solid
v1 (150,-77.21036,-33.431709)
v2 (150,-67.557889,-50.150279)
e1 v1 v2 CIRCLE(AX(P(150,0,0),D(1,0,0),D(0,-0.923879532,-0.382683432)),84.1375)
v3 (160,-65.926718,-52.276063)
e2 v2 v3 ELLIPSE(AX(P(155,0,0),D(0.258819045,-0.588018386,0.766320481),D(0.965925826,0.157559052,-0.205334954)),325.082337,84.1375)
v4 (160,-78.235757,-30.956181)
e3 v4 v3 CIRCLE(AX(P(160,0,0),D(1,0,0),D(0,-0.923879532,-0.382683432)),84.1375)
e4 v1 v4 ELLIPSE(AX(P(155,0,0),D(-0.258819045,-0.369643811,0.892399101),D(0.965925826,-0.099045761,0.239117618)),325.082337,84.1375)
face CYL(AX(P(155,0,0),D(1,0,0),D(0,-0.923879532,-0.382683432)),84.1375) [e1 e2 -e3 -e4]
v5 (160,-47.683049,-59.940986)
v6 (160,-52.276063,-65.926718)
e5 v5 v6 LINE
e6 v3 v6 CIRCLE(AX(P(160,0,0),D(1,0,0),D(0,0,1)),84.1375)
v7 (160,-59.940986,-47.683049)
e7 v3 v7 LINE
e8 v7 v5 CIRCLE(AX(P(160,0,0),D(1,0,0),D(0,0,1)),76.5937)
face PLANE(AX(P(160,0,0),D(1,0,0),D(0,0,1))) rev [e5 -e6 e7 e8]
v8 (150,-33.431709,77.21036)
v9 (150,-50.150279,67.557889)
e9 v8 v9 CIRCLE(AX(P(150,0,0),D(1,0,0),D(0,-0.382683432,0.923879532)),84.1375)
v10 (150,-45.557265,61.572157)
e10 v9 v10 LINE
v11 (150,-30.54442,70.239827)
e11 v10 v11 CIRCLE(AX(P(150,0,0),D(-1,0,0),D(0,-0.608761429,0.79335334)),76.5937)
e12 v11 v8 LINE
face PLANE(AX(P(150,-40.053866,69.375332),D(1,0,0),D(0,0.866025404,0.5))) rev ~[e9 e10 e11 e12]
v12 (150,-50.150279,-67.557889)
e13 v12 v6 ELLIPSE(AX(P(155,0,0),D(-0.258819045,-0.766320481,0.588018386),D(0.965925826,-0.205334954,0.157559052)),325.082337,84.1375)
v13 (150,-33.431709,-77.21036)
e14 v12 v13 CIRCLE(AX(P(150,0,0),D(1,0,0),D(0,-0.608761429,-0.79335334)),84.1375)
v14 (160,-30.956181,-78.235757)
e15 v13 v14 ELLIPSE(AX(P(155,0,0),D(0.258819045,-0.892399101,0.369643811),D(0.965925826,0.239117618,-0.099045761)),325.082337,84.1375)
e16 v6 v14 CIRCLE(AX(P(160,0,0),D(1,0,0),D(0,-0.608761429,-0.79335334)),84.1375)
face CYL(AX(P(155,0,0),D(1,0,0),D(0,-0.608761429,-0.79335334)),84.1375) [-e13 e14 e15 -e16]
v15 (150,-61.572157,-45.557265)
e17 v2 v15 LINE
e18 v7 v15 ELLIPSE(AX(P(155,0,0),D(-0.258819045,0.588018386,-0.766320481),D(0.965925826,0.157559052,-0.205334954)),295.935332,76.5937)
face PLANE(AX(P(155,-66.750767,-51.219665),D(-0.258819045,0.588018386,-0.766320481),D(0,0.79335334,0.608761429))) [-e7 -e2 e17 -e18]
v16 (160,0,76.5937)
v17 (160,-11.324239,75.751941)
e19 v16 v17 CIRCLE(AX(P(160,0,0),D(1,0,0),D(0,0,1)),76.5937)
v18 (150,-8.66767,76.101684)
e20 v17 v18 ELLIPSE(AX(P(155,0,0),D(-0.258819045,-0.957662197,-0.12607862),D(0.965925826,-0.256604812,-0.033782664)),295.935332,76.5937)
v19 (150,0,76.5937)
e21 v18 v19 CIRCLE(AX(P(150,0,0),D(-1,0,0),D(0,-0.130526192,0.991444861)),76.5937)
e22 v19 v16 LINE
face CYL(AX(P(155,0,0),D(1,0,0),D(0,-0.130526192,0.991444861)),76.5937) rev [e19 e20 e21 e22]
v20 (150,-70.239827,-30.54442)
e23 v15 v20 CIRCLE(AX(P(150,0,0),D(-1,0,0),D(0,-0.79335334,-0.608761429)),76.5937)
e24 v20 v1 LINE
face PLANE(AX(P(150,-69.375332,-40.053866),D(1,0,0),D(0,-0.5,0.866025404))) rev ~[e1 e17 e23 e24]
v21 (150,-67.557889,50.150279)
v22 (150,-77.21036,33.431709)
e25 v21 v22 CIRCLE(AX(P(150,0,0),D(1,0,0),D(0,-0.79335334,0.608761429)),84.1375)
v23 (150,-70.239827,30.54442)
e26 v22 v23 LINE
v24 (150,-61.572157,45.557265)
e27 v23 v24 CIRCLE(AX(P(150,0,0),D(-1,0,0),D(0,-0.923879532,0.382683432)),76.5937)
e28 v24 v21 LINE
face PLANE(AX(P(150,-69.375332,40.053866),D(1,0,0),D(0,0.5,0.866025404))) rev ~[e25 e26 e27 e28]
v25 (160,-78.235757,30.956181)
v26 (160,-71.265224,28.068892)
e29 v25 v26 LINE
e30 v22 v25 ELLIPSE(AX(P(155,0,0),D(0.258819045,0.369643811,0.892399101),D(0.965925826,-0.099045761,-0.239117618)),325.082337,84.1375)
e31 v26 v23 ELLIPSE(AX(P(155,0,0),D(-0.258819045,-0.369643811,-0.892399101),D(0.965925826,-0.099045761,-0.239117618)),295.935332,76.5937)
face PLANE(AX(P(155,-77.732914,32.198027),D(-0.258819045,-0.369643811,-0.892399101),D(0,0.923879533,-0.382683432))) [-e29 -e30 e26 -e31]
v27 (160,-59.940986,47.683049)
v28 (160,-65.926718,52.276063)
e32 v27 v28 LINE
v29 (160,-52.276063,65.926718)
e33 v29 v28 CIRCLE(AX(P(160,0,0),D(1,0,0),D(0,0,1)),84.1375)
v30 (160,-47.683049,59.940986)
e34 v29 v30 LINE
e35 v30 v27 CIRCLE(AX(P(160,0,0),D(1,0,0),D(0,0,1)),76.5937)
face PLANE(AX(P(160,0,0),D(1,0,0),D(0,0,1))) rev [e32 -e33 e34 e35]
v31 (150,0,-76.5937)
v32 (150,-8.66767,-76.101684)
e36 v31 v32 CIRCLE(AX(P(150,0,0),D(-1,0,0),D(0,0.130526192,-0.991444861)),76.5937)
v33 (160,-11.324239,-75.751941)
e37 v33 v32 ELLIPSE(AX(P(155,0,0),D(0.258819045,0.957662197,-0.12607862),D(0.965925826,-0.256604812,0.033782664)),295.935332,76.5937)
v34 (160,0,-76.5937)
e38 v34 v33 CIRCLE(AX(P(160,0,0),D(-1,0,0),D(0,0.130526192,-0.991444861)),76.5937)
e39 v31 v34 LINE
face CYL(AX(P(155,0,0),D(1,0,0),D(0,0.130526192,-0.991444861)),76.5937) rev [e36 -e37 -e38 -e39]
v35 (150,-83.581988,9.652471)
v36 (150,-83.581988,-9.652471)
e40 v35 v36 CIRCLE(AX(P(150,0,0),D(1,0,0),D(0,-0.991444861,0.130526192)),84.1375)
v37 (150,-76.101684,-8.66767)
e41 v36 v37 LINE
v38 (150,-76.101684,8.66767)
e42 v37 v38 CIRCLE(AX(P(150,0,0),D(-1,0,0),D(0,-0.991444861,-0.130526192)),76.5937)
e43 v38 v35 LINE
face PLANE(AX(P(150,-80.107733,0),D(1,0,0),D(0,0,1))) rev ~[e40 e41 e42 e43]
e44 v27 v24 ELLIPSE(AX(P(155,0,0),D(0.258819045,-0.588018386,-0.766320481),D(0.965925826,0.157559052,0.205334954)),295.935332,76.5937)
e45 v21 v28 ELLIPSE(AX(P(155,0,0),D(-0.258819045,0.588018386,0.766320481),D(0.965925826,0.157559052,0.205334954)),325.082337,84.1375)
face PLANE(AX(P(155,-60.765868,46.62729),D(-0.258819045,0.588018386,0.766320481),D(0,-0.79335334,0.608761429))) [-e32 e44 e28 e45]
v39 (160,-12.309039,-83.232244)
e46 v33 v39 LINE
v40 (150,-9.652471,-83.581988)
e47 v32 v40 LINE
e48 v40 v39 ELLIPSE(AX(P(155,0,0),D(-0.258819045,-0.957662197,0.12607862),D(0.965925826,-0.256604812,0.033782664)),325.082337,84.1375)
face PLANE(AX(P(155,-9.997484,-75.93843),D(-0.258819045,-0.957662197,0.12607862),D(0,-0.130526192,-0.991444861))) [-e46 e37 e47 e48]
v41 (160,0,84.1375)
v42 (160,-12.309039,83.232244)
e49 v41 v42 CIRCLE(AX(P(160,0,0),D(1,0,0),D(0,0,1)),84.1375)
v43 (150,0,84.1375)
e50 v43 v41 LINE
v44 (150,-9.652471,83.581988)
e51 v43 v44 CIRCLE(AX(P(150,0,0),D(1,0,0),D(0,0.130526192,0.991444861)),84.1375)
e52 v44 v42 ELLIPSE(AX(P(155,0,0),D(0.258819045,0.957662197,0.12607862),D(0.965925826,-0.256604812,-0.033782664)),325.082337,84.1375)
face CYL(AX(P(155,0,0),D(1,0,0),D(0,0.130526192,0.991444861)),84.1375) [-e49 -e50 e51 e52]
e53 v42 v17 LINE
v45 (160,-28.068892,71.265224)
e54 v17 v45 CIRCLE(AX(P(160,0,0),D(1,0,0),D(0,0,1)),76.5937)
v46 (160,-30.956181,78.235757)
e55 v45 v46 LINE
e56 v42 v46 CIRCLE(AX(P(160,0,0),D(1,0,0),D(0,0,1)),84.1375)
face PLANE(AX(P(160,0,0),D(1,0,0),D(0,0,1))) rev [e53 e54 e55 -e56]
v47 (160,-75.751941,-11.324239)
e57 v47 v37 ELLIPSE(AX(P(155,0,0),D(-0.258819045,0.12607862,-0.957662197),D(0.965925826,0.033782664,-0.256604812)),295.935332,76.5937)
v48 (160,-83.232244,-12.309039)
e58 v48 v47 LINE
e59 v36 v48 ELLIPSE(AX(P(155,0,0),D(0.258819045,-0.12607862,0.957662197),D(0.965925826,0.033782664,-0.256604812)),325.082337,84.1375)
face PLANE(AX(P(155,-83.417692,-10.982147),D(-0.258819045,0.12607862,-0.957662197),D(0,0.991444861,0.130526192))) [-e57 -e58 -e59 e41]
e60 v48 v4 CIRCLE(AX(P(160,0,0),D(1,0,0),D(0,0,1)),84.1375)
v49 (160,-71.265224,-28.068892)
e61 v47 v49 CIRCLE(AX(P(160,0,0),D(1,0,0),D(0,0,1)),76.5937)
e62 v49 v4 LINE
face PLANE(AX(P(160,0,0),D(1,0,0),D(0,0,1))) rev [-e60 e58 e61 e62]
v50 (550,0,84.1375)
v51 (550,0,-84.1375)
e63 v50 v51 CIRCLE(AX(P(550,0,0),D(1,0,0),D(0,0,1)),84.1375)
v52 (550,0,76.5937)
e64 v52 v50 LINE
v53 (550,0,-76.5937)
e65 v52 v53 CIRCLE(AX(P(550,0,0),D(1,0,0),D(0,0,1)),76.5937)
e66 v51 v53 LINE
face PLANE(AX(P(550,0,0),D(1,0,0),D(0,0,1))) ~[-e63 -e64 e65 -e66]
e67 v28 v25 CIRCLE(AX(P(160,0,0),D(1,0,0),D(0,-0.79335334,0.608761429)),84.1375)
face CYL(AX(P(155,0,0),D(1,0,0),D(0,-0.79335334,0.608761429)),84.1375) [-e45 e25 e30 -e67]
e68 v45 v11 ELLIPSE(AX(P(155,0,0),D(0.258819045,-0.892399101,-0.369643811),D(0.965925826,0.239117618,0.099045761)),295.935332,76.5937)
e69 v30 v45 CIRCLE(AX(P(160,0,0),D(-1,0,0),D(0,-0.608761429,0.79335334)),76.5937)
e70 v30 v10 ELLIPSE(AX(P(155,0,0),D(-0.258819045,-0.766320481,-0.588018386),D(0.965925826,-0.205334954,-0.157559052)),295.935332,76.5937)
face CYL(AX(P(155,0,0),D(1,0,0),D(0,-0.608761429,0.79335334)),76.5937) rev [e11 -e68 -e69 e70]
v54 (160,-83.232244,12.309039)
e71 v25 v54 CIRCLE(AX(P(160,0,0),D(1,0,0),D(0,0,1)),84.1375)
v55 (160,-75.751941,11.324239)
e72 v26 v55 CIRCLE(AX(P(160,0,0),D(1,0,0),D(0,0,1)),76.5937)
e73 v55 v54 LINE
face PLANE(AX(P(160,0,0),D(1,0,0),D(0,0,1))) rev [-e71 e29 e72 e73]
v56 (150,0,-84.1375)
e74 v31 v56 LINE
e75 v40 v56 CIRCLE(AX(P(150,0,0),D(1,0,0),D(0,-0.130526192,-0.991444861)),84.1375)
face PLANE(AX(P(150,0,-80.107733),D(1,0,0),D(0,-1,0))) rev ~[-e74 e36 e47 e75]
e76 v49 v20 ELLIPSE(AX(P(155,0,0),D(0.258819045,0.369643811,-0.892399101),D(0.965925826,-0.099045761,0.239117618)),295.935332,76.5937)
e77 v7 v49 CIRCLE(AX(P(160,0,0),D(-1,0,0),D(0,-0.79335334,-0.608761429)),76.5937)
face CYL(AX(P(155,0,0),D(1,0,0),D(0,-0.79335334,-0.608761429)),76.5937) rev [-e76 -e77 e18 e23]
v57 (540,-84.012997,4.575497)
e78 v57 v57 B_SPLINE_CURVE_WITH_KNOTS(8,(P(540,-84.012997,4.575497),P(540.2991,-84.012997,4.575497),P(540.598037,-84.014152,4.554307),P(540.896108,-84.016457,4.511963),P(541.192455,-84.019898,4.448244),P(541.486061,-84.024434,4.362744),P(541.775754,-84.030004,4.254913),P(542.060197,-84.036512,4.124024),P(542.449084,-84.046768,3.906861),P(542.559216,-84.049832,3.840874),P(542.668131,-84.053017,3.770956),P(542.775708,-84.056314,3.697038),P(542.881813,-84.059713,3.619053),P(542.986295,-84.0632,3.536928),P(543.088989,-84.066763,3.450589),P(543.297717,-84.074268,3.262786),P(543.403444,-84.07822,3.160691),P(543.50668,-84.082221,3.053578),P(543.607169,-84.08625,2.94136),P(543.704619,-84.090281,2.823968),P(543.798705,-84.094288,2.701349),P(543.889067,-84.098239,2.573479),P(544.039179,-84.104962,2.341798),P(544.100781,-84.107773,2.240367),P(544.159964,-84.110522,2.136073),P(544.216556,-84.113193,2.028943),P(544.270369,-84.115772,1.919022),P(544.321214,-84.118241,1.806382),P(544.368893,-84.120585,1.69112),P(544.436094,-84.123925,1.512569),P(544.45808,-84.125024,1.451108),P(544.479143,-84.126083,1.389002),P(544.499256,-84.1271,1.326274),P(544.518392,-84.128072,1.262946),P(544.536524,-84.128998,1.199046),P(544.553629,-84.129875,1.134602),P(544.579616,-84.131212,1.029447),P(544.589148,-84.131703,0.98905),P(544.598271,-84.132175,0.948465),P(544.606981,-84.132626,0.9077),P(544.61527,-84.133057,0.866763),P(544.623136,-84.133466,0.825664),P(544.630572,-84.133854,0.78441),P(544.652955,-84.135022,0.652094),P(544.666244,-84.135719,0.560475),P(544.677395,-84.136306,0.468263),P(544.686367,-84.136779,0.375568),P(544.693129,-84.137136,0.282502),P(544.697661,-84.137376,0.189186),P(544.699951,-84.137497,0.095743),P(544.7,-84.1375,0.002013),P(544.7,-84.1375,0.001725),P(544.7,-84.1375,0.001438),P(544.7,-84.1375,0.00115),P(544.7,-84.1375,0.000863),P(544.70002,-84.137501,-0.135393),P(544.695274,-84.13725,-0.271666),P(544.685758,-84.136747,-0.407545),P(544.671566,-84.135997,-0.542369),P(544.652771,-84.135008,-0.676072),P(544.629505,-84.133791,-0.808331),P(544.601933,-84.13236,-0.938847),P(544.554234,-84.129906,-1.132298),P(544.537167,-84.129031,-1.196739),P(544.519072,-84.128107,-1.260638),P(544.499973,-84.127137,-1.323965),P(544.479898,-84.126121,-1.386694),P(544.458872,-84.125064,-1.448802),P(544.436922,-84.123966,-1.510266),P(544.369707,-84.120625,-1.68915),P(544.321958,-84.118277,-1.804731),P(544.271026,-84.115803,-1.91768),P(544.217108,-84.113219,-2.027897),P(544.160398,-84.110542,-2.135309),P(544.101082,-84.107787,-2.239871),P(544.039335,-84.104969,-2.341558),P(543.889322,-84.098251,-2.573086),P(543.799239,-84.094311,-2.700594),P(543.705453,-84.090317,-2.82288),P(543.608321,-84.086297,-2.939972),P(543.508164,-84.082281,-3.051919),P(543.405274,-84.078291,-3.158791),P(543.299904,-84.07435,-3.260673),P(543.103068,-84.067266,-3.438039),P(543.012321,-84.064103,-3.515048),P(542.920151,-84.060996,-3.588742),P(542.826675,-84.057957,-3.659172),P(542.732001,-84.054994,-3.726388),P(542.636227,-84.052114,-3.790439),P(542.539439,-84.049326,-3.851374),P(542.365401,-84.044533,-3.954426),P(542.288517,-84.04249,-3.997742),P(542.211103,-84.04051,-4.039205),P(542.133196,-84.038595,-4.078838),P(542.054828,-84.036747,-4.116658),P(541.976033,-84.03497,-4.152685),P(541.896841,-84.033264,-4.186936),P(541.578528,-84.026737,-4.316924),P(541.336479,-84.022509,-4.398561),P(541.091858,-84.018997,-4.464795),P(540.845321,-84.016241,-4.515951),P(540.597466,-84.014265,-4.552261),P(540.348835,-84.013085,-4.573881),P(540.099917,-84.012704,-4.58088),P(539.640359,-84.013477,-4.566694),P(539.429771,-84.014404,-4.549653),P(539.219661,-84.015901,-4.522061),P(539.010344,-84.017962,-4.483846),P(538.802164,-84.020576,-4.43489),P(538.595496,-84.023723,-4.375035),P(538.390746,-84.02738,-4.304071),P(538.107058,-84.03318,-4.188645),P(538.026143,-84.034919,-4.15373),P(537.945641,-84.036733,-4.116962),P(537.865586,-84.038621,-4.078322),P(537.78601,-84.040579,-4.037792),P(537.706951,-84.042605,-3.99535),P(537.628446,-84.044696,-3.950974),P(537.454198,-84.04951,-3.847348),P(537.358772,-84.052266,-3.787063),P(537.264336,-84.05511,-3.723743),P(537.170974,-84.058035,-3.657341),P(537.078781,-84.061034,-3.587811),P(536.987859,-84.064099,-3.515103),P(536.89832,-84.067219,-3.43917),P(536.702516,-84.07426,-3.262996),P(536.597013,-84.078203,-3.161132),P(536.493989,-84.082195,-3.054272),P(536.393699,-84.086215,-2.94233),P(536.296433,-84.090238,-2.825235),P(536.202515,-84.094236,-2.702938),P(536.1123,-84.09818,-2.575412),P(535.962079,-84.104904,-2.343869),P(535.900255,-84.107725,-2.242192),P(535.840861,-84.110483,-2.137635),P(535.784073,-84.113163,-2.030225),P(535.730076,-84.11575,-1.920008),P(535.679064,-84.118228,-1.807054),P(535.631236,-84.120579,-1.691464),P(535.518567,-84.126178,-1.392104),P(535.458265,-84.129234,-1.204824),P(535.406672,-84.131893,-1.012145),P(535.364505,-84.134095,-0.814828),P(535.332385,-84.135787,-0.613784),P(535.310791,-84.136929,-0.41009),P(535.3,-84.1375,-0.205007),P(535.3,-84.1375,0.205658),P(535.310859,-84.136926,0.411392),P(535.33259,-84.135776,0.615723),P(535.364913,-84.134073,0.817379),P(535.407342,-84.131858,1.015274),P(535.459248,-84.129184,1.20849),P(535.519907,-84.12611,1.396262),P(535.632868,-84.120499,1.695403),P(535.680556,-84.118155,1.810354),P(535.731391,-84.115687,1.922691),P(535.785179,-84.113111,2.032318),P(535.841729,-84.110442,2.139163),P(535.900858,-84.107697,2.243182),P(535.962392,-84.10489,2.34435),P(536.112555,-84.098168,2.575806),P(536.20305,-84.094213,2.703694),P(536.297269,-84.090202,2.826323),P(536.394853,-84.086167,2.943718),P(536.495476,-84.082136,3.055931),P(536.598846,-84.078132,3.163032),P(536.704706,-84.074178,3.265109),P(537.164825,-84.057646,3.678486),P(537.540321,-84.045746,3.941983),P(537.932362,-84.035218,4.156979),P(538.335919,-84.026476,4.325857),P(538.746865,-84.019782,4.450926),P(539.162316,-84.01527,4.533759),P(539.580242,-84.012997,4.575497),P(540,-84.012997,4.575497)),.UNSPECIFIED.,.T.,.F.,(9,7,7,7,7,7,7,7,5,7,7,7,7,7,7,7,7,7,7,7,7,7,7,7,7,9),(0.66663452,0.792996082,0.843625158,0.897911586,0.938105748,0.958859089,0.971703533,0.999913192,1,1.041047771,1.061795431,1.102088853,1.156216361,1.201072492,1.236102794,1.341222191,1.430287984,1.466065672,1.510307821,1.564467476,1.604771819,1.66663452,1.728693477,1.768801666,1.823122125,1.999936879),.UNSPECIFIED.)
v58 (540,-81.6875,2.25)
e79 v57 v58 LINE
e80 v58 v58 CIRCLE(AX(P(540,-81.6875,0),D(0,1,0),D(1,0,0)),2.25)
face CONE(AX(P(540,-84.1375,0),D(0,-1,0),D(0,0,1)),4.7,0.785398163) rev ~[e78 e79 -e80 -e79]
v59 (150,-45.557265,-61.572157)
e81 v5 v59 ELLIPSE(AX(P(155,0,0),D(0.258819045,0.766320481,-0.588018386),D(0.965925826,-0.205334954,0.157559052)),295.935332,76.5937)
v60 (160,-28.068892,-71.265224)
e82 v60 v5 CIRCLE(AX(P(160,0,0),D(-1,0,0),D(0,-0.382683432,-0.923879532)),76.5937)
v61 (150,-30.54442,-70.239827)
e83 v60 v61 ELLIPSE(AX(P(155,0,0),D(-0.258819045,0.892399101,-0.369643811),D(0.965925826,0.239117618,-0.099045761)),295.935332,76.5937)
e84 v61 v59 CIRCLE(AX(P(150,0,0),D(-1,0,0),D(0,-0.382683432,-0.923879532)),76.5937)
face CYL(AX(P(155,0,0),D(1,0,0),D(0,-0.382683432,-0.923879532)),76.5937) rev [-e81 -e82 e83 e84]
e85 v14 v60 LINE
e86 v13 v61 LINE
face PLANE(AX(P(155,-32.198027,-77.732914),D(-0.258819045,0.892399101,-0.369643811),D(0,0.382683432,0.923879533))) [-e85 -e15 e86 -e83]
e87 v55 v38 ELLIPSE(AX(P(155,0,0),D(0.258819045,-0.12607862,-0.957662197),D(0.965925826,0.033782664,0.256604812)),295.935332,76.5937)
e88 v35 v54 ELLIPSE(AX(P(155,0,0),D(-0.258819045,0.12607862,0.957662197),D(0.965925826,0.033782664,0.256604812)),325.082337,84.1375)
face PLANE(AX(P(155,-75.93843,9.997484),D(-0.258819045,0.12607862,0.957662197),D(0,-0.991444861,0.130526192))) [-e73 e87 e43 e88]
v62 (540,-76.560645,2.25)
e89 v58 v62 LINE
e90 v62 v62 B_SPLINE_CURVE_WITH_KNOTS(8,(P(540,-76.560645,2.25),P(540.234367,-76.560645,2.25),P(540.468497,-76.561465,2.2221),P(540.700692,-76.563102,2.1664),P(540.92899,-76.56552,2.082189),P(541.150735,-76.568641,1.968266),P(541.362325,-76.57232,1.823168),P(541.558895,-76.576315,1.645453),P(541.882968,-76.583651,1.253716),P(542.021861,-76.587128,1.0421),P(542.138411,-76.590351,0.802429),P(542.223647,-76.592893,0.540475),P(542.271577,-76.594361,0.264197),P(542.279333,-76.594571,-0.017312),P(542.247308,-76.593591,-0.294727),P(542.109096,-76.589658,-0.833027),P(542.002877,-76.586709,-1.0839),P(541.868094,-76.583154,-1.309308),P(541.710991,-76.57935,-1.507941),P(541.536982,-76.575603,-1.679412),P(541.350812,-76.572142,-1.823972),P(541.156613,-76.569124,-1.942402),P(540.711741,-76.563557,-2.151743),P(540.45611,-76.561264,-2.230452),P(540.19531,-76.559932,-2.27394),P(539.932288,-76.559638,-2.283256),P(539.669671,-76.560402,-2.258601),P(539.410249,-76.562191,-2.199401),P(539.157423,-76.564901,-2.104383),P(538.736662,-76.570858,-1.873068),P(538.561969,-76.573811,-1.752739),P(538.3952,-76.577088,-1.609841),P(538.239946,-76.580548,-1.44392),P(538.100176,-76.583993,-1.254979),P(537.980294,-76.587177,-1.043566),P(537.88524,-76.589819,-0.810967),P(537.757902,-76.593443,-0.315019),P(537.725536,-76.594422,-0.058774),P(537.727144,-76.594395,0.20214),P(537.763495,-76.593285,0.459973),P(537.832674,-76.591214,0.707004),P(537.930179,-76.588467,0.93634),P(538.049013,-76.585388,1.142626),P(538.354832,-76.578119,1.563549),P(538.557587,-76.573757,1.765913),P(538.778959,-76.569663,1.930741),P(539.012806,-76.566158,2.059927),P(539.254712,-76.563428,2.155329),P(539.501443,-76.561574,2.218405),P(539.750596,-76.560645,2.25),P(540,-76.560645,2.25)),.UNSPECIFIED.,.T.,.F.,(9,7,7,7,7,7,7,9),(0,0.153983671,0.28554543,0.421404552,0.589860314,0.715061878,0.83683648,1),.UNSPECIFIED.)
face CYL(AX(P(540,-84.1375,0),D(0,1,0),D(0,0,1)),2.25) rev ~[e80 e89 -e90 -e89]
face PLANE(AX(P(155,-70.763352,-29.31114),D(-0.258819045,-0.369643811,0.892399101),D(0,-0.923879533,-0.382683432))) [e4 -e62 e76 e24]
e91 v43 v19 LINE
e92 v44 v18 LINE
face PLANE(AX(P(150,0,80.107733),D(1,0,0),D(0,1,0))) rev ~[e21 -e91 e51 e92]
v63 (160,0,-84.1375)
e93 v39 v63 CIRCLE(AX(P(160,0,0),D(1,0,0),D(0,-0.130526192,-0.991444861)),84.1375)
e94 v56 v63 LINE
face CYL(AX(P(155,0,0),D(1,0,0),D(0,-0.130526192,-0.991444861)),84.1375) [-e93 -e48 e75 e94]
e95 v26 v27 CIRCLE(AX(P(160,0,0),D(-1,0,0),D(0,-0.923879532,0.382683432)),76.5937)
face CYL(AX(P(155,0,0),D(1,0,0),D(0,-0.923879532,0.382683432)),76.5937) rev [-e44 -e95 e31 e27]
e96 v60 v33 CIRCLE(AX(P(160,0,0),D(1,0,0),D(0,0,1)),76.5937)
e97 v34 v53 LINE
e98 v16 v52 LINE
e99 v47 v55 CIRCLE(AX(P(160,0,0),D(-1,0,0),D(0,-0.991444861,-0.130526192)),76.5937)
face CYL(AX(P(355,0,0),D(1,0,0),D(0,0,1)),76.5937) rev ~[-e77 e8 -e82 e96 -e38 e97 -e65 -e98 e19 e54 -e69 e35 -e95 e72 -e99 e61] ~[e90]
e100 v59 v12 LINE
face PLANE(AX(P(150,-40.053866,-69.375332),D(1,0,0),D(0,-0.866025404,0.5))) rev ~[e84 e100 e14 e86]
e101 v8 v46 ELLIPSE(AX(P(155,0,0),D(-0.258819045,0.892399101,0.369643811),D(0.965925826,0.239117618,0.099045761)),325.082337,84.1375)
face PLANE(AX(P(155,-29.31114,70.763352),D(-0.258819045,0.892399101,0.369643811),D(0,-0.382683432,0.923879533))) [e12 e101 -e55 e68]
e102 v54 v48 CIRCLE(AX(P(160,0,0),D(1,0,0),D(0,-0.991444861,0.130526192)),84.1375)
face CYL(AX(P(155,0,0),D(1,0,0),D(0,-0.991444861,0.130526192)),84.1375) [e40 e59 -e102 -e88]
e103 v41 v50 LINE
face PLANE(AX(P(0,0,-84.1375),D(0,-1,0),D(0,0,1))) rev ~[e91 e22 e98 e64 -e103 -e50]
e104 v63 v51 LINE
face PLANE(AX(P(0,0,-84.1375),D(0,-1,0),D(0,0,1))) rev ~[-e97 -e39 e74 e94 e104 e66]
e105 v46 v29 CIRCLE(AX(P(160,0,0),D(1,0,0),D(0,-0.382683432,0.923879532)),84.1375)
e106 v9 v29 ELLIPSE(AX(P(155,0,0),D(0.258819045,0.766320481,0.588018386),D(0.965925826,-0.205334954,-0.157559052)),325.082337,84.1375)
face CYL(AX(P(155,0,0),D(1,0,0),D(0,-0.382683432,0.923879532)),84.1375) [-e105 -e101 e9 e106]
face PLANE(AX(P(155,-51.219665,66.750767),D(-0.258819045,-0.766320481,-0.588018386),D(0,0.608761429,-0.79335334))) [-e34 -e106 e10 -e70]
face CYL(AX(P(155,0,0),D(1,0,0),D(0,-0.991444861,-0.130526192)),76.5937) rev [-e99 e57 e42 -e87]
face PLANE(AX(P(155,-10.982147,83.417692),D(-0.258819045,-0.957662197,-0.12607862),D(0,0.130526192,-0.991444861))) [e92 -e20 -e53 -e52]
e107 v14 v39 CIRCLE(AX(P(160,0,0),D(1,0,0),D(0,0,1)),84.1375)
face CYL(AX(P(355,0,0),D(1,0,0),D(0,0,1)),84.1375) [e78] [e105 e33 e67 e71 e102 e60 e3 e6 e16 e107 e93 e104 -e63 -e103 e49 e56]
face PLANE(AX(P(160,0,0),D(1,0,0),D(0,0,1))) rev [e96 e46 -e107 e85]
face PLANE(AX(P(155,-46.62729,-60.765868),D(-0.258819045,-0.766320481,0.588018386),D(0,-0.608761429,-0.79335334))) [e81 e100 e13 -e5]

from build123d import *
from build123d.topology import SkipClean

# Parameters (mm, degrees)
SKETCH1_W                                           = 390
SKETCH1_H                                           = 7.5438
BOSS_EXTRUDE1_DEPTH                                 = 5
DRAFT1_ANGLE                                        = -15
CIRPATTERN1_COUNT                                   = 12
DRAFT1_OF_CIRPATTERN1_2_ANGLE                       = -15
DRAFT1_OF_CIRPATTERN1_3_ANGLE                       = -15
DRAFT1_OF_CIRPATTERN1_4_ANGLE                       = -15
DRAFT1_OF_CIRPATTERN1_5_ANGLE                       = -15
DRAFT1_OF_CIRPATTERN1_6_ANGLE                       = -15
DRAFT1_OF_CIRPATTERN1_7_ANGLE                       = -15
DRAFT1_OF_CIRPATTERN1_8_ANGLE                       = -15
DRAFT1_OF_CIRPATTERN1_9_ANGLE                       = -15
DRAFT1_OF_CIRPATTERN1_10_ANGLE                      = -15
DRAFT1_OF_CIRPATTERN1_11_ANGLE                      = -15
DRAFT1_OF_CIRPATTERN1_12_ANGLE                      = -15
CUT_EXTRUDE1_DEPTH                                  = 563.723944588
CSK_FOR_M4_COUNTERSUNK_FLAT_HEAD_SCREW1_D           = 4.5
CSK_FOR_M4_COUNTERSUNK_FLAT_HEAD_SCREW1_CSINK_D     = 9.4
CSK_FOR_M4_COUNTERSUNK_FLAT_HEAD_SCREW1_CSINK_ANGLE = 90


with BuildPart() as part:
    # Sketch1 → Revolve1 (revolve)
    with BuildSketch(Plane.XY, mode=Mode.PRIVATE) as revolve1_sk:
        with Locations((355, 80.3656)):
            Rectangle(SKETCH1_W, SKETCH1_H)
    revolve(revolve1_sk.sketch.rotate(Axis((0, 0, 0), (1, 0, 0)), 90), axis=Axis((0, 0, 0), (1, 0, 0)))

    # Sketch2 → Boss-Extrude1 (add, symmetric)
    with BuildSketch(Plane(origin=(155, 0, 0), x_dir=(0, 0, -1), z_dir=(1, 0, 0))):
        with BuildLine():
            Line((9.997484009, 75.938430279), (10.982147498, 83.417692024))
            ThreePointArc((10.982147498, 83.417692024), (0, 84.1375), (-10.982147498, 83.417692024))
            Line((-10.982147498, 83.417692024), (-9.997484009, 75.938430279))
            ThreePointArc((-9.997484009, 75.938430279), (0, 76.5937), (9.997484009, 75.938430279))
        make_face()
    boss_extrude1 = extrude(amount=BOSS_EXTRUDE1_DEPTH, both=True)

    # Draft1
    draft1_faces = [part.faces().sort_by_distance(p)[0] for p in [
        (155, 79.678061151, 10.489815753),
        (155, 79.678061151, -10.489815753),
    ]]
    draft(draft1_faces, Plane(origin=(155, 0, 0), x_dir=(0, 0, 1), z_dir=(1, 0, 0)), DRAFT1_ANGLE)

    # CirPattern1: Boss-Extrude1 ×12 about axis
    with SkipClean():  # the faces are left unmerged after this step: merging them gives an invalid solid
        cirpattern1_axis = Axis((0, 0, 0), (1, 0, 0))
        for i in range(1, CIRPATTERN1_COUNT):
            add(boss_extrude1.rotate(cirpattern1_axis, i * 360 / CIRPATTERN1_COUNT))

    # Draft1 of CirPattern1 2
    draft1_of_cirpattern1_2_faces = [part.faces().sort_by_distance(p)[0] for p in [
        (155, 63.758317205, 48.923477499),
        (155, 74.248132958, 30.754583652),
    ]]
    draft(draft1_of_cirpattern1_2_faces, Plane(origin=(155, 0, 0), x_dir=(0, -0.49999999999999994, 0.8660254037844387), z_dir=(1, 0, 0)), DRAFT1_OF_CIRPATTERN1_2_ANGLE)

    # Draft1 of CirPattern1 3
    draft1_of_cirpattern1_3_faces = [part.faces().sort_by_distance(p)[0] for p in [
        (155, 30.754583652, 74.248132958),
        (155, 48.923477499, 63.758317205),
    ]]
    draft(draft1_of_cirpattern1_3_faces, Plane(origin=(155, 0, 0), x_dir=(0, -0.8660254037844386, 0.5000000000000001), z_dir=(1, 0, 0)), DRAFT1_OF_CIRPATTERN1_3_ANGLE)

    # Draft1 of CirPattern1 4
    draft1_of_cirpattern1_4_faces = [part.faces().sort_by_distance(p)[0] for p in [
        (155, -10.489815753, 79.678061151),
        (155, 10.489815753, 79.678061151),
    ]]
    draft(draft1_of_cirpattern1_4_faces, Plane(origin=(155, 0, 0), x_dir=(0, -1, 0), z_dir=(1, 0, 0)), DRAFT1_OF_CIRPATTERN1_4_ANGLE)

    # Draft1 of CirPattern1 5
    draft1_of_cirpattern1_5_faces = [part.faces().sort_by_distance(p)[0] for p in [
        (155, -48.923477499, 63.758317205),
        (155, -30.754583652, 74.248132958),
    ]]
    draft(draft1_of_cirpattern1_5_faces, Plane(origin=(155, 0, 0), x_dir=(0, -0.8660254037844387, -0.4999999999999998), z_dir=(1, 0, 0)), DRAFT1_OF_CIRPATTERN1_5_ANGLE)

    # Draft1 of CirPattern1 6
    draft1_of_cirpattern1_6_faces = [part.faces().sort_by_distance(p)[0] for p in [
        (155, -74.248132958, 30.754583652),
        (155, -63.758317205, 48.923477499),
    ]]
    draft(draft1_of_cirpattern1_6_faces, Plane(origin=(155, 0, 0), x_dir=(0, -0.49999999999999994, -0.8660254037844387), z_dir=(1, 0, 0)), DRAFT1_OF_CIRPATTERN1_6_ANGLE)

    # Draft1 of CirPattern1 7
    draft1_of_cirpattern1_7_faces = [part.faces().sort_by_distance(p)[0] for p in [
        (155, -79.678061151, -10.489815753),
        (155, -79.678061151, 10.489815753),
    ]]
    draft(draft1_of_cirpattern1_7_faces, Plane(origin=(155, 0, 0), x_dir=(0, 0, -1), z_dir=(1, 0, 0)), DRAFT1_OF_CIRPATTERN1_7_ANGLE)

    # Draft1 of CirPattern1 8
    draft1_of_cirpattern1_8_faces = [part.faces().sort_by_distance(p)[0] for p in [
        (155, -63.758317205, -48.923477499),
        (155, -74.248132958, -30.754583652),
    ]]
    draft(draft1_of_cirpattern1_8_faces, Plane(origin=(155, 0, 0), x_dir=(0, 0.5000000000000001, -0.8660254037844386), z_dir=(1, 0, 0)), DRAFT1_OF_CIRPATTERN1_8_ANGLE)

    # Draft1 of CirPattern1 9
    draft1_of_cirpattern1_9_faces = [part.faces().sort_by_distance(p)[0] for p in [
        (155, -30.754583652, -74.248132958),
        (155, -48.923477499, -63.758317205),
    ]]
    draft(draft1_of_cirpattern1_9_faces, Plane(origin=(155, 0, 0), x_dir=(0, 0.8660254037844384, -0.5000000000000004), z_dir=(1, 0, 0)), DRAFT1_OF_CIRPATTERN1_9_ANGLE)

    # Draft1 of CirPattern1 10
    draft1_of_cirpattern1_10_faces = [part.faces().sort_by_distance(p)[0] for p in [
        (155, 10.489815753, -79.678061151),
        (155, -10.489815753, -79.678061151),
    ]]
    draft(draft1_of_cirpattern1_10_faces, Plane.YZ.offset(155), DRAFT1_OF_CIRPATTERN1_10_ANGLE)

    # Draft1 of CirPattern1 11
    draft1_of_cirpattern1_11_faces = [part.faces().sort_by_distance(p)[0] for p in [
        (155, 48.923477499, -63.758317205),
        (155, 30.754583652, -74.248132958),
    ]]
    draft(draft1_of_cirpattern1_11_faces, Plane(origin=(155, 0, 0), x_dir=(0, 0.8660254037844386, 0.5000000000000001), z_dir=(1, 0, 0)), DRAFT1_OF_CIRPATTERN1_11_ANGLE)

    # Draft1 of CirPattern1 12
    draft1_of_cirpattern1_12_faces = [part.faces().sort_by_distance(p)[0] for p in [
        (155, 74.248132958, -30.754583652),
        (155, 63.758317205, -48.923477499),
    ]]
    draft(draft1_of_cirpattern1_12_faces, Plane(origin=(155, 0, 0), x_dir=(0, 0.5000000000000004, 0.8660254037844384), z_dir=(1, 0, 0)), DRAFT1_OF_CIRPATTERN1_12_ANGLE)

    # Sketch3 → Cut-Extrude1 (cut, through all)
    with BuildSketch(Plane(origin=(0, 0, 0), x_dir=(0, 0, -1), z_dir=(1, 0, 0))):
        with BuildLine():
            Line((0, 0), (-84.1375, 0))
            ThreePointArc((-84.1375, 0), (0, 84.1375), (84.1375, 0))
            Line((84.1375, 0), (0, 0))
        make_face()
    extrude(amount=CUT_EXTRUDE1_DEPTH, mode=Mode.SUBTRACT)

    # CSK for M4 Countersunk Flat Head Screw1 (through all)
    with Locations(Plane(origin=(540, -84.1375, 0), x_dir=(0, 0, -1), z_dir=(0, -1, 0))):
        with Locations((0, 0)):
            CounterSinkHole(CSK_FOR_M4_COUNTERSUNK_FLAT_HEAD_SCREW1_D / 2, CSK_FOR_M4_COUNTERSUNK_FLAT_HEAD_SCREW1_CSINK_D / 2, counter_sink_angle=CSK_FOR_M4_COUNTERSUNK_FLAT_HEAD_SCREW1_CSINK_ANGLE)


solid = part.part
